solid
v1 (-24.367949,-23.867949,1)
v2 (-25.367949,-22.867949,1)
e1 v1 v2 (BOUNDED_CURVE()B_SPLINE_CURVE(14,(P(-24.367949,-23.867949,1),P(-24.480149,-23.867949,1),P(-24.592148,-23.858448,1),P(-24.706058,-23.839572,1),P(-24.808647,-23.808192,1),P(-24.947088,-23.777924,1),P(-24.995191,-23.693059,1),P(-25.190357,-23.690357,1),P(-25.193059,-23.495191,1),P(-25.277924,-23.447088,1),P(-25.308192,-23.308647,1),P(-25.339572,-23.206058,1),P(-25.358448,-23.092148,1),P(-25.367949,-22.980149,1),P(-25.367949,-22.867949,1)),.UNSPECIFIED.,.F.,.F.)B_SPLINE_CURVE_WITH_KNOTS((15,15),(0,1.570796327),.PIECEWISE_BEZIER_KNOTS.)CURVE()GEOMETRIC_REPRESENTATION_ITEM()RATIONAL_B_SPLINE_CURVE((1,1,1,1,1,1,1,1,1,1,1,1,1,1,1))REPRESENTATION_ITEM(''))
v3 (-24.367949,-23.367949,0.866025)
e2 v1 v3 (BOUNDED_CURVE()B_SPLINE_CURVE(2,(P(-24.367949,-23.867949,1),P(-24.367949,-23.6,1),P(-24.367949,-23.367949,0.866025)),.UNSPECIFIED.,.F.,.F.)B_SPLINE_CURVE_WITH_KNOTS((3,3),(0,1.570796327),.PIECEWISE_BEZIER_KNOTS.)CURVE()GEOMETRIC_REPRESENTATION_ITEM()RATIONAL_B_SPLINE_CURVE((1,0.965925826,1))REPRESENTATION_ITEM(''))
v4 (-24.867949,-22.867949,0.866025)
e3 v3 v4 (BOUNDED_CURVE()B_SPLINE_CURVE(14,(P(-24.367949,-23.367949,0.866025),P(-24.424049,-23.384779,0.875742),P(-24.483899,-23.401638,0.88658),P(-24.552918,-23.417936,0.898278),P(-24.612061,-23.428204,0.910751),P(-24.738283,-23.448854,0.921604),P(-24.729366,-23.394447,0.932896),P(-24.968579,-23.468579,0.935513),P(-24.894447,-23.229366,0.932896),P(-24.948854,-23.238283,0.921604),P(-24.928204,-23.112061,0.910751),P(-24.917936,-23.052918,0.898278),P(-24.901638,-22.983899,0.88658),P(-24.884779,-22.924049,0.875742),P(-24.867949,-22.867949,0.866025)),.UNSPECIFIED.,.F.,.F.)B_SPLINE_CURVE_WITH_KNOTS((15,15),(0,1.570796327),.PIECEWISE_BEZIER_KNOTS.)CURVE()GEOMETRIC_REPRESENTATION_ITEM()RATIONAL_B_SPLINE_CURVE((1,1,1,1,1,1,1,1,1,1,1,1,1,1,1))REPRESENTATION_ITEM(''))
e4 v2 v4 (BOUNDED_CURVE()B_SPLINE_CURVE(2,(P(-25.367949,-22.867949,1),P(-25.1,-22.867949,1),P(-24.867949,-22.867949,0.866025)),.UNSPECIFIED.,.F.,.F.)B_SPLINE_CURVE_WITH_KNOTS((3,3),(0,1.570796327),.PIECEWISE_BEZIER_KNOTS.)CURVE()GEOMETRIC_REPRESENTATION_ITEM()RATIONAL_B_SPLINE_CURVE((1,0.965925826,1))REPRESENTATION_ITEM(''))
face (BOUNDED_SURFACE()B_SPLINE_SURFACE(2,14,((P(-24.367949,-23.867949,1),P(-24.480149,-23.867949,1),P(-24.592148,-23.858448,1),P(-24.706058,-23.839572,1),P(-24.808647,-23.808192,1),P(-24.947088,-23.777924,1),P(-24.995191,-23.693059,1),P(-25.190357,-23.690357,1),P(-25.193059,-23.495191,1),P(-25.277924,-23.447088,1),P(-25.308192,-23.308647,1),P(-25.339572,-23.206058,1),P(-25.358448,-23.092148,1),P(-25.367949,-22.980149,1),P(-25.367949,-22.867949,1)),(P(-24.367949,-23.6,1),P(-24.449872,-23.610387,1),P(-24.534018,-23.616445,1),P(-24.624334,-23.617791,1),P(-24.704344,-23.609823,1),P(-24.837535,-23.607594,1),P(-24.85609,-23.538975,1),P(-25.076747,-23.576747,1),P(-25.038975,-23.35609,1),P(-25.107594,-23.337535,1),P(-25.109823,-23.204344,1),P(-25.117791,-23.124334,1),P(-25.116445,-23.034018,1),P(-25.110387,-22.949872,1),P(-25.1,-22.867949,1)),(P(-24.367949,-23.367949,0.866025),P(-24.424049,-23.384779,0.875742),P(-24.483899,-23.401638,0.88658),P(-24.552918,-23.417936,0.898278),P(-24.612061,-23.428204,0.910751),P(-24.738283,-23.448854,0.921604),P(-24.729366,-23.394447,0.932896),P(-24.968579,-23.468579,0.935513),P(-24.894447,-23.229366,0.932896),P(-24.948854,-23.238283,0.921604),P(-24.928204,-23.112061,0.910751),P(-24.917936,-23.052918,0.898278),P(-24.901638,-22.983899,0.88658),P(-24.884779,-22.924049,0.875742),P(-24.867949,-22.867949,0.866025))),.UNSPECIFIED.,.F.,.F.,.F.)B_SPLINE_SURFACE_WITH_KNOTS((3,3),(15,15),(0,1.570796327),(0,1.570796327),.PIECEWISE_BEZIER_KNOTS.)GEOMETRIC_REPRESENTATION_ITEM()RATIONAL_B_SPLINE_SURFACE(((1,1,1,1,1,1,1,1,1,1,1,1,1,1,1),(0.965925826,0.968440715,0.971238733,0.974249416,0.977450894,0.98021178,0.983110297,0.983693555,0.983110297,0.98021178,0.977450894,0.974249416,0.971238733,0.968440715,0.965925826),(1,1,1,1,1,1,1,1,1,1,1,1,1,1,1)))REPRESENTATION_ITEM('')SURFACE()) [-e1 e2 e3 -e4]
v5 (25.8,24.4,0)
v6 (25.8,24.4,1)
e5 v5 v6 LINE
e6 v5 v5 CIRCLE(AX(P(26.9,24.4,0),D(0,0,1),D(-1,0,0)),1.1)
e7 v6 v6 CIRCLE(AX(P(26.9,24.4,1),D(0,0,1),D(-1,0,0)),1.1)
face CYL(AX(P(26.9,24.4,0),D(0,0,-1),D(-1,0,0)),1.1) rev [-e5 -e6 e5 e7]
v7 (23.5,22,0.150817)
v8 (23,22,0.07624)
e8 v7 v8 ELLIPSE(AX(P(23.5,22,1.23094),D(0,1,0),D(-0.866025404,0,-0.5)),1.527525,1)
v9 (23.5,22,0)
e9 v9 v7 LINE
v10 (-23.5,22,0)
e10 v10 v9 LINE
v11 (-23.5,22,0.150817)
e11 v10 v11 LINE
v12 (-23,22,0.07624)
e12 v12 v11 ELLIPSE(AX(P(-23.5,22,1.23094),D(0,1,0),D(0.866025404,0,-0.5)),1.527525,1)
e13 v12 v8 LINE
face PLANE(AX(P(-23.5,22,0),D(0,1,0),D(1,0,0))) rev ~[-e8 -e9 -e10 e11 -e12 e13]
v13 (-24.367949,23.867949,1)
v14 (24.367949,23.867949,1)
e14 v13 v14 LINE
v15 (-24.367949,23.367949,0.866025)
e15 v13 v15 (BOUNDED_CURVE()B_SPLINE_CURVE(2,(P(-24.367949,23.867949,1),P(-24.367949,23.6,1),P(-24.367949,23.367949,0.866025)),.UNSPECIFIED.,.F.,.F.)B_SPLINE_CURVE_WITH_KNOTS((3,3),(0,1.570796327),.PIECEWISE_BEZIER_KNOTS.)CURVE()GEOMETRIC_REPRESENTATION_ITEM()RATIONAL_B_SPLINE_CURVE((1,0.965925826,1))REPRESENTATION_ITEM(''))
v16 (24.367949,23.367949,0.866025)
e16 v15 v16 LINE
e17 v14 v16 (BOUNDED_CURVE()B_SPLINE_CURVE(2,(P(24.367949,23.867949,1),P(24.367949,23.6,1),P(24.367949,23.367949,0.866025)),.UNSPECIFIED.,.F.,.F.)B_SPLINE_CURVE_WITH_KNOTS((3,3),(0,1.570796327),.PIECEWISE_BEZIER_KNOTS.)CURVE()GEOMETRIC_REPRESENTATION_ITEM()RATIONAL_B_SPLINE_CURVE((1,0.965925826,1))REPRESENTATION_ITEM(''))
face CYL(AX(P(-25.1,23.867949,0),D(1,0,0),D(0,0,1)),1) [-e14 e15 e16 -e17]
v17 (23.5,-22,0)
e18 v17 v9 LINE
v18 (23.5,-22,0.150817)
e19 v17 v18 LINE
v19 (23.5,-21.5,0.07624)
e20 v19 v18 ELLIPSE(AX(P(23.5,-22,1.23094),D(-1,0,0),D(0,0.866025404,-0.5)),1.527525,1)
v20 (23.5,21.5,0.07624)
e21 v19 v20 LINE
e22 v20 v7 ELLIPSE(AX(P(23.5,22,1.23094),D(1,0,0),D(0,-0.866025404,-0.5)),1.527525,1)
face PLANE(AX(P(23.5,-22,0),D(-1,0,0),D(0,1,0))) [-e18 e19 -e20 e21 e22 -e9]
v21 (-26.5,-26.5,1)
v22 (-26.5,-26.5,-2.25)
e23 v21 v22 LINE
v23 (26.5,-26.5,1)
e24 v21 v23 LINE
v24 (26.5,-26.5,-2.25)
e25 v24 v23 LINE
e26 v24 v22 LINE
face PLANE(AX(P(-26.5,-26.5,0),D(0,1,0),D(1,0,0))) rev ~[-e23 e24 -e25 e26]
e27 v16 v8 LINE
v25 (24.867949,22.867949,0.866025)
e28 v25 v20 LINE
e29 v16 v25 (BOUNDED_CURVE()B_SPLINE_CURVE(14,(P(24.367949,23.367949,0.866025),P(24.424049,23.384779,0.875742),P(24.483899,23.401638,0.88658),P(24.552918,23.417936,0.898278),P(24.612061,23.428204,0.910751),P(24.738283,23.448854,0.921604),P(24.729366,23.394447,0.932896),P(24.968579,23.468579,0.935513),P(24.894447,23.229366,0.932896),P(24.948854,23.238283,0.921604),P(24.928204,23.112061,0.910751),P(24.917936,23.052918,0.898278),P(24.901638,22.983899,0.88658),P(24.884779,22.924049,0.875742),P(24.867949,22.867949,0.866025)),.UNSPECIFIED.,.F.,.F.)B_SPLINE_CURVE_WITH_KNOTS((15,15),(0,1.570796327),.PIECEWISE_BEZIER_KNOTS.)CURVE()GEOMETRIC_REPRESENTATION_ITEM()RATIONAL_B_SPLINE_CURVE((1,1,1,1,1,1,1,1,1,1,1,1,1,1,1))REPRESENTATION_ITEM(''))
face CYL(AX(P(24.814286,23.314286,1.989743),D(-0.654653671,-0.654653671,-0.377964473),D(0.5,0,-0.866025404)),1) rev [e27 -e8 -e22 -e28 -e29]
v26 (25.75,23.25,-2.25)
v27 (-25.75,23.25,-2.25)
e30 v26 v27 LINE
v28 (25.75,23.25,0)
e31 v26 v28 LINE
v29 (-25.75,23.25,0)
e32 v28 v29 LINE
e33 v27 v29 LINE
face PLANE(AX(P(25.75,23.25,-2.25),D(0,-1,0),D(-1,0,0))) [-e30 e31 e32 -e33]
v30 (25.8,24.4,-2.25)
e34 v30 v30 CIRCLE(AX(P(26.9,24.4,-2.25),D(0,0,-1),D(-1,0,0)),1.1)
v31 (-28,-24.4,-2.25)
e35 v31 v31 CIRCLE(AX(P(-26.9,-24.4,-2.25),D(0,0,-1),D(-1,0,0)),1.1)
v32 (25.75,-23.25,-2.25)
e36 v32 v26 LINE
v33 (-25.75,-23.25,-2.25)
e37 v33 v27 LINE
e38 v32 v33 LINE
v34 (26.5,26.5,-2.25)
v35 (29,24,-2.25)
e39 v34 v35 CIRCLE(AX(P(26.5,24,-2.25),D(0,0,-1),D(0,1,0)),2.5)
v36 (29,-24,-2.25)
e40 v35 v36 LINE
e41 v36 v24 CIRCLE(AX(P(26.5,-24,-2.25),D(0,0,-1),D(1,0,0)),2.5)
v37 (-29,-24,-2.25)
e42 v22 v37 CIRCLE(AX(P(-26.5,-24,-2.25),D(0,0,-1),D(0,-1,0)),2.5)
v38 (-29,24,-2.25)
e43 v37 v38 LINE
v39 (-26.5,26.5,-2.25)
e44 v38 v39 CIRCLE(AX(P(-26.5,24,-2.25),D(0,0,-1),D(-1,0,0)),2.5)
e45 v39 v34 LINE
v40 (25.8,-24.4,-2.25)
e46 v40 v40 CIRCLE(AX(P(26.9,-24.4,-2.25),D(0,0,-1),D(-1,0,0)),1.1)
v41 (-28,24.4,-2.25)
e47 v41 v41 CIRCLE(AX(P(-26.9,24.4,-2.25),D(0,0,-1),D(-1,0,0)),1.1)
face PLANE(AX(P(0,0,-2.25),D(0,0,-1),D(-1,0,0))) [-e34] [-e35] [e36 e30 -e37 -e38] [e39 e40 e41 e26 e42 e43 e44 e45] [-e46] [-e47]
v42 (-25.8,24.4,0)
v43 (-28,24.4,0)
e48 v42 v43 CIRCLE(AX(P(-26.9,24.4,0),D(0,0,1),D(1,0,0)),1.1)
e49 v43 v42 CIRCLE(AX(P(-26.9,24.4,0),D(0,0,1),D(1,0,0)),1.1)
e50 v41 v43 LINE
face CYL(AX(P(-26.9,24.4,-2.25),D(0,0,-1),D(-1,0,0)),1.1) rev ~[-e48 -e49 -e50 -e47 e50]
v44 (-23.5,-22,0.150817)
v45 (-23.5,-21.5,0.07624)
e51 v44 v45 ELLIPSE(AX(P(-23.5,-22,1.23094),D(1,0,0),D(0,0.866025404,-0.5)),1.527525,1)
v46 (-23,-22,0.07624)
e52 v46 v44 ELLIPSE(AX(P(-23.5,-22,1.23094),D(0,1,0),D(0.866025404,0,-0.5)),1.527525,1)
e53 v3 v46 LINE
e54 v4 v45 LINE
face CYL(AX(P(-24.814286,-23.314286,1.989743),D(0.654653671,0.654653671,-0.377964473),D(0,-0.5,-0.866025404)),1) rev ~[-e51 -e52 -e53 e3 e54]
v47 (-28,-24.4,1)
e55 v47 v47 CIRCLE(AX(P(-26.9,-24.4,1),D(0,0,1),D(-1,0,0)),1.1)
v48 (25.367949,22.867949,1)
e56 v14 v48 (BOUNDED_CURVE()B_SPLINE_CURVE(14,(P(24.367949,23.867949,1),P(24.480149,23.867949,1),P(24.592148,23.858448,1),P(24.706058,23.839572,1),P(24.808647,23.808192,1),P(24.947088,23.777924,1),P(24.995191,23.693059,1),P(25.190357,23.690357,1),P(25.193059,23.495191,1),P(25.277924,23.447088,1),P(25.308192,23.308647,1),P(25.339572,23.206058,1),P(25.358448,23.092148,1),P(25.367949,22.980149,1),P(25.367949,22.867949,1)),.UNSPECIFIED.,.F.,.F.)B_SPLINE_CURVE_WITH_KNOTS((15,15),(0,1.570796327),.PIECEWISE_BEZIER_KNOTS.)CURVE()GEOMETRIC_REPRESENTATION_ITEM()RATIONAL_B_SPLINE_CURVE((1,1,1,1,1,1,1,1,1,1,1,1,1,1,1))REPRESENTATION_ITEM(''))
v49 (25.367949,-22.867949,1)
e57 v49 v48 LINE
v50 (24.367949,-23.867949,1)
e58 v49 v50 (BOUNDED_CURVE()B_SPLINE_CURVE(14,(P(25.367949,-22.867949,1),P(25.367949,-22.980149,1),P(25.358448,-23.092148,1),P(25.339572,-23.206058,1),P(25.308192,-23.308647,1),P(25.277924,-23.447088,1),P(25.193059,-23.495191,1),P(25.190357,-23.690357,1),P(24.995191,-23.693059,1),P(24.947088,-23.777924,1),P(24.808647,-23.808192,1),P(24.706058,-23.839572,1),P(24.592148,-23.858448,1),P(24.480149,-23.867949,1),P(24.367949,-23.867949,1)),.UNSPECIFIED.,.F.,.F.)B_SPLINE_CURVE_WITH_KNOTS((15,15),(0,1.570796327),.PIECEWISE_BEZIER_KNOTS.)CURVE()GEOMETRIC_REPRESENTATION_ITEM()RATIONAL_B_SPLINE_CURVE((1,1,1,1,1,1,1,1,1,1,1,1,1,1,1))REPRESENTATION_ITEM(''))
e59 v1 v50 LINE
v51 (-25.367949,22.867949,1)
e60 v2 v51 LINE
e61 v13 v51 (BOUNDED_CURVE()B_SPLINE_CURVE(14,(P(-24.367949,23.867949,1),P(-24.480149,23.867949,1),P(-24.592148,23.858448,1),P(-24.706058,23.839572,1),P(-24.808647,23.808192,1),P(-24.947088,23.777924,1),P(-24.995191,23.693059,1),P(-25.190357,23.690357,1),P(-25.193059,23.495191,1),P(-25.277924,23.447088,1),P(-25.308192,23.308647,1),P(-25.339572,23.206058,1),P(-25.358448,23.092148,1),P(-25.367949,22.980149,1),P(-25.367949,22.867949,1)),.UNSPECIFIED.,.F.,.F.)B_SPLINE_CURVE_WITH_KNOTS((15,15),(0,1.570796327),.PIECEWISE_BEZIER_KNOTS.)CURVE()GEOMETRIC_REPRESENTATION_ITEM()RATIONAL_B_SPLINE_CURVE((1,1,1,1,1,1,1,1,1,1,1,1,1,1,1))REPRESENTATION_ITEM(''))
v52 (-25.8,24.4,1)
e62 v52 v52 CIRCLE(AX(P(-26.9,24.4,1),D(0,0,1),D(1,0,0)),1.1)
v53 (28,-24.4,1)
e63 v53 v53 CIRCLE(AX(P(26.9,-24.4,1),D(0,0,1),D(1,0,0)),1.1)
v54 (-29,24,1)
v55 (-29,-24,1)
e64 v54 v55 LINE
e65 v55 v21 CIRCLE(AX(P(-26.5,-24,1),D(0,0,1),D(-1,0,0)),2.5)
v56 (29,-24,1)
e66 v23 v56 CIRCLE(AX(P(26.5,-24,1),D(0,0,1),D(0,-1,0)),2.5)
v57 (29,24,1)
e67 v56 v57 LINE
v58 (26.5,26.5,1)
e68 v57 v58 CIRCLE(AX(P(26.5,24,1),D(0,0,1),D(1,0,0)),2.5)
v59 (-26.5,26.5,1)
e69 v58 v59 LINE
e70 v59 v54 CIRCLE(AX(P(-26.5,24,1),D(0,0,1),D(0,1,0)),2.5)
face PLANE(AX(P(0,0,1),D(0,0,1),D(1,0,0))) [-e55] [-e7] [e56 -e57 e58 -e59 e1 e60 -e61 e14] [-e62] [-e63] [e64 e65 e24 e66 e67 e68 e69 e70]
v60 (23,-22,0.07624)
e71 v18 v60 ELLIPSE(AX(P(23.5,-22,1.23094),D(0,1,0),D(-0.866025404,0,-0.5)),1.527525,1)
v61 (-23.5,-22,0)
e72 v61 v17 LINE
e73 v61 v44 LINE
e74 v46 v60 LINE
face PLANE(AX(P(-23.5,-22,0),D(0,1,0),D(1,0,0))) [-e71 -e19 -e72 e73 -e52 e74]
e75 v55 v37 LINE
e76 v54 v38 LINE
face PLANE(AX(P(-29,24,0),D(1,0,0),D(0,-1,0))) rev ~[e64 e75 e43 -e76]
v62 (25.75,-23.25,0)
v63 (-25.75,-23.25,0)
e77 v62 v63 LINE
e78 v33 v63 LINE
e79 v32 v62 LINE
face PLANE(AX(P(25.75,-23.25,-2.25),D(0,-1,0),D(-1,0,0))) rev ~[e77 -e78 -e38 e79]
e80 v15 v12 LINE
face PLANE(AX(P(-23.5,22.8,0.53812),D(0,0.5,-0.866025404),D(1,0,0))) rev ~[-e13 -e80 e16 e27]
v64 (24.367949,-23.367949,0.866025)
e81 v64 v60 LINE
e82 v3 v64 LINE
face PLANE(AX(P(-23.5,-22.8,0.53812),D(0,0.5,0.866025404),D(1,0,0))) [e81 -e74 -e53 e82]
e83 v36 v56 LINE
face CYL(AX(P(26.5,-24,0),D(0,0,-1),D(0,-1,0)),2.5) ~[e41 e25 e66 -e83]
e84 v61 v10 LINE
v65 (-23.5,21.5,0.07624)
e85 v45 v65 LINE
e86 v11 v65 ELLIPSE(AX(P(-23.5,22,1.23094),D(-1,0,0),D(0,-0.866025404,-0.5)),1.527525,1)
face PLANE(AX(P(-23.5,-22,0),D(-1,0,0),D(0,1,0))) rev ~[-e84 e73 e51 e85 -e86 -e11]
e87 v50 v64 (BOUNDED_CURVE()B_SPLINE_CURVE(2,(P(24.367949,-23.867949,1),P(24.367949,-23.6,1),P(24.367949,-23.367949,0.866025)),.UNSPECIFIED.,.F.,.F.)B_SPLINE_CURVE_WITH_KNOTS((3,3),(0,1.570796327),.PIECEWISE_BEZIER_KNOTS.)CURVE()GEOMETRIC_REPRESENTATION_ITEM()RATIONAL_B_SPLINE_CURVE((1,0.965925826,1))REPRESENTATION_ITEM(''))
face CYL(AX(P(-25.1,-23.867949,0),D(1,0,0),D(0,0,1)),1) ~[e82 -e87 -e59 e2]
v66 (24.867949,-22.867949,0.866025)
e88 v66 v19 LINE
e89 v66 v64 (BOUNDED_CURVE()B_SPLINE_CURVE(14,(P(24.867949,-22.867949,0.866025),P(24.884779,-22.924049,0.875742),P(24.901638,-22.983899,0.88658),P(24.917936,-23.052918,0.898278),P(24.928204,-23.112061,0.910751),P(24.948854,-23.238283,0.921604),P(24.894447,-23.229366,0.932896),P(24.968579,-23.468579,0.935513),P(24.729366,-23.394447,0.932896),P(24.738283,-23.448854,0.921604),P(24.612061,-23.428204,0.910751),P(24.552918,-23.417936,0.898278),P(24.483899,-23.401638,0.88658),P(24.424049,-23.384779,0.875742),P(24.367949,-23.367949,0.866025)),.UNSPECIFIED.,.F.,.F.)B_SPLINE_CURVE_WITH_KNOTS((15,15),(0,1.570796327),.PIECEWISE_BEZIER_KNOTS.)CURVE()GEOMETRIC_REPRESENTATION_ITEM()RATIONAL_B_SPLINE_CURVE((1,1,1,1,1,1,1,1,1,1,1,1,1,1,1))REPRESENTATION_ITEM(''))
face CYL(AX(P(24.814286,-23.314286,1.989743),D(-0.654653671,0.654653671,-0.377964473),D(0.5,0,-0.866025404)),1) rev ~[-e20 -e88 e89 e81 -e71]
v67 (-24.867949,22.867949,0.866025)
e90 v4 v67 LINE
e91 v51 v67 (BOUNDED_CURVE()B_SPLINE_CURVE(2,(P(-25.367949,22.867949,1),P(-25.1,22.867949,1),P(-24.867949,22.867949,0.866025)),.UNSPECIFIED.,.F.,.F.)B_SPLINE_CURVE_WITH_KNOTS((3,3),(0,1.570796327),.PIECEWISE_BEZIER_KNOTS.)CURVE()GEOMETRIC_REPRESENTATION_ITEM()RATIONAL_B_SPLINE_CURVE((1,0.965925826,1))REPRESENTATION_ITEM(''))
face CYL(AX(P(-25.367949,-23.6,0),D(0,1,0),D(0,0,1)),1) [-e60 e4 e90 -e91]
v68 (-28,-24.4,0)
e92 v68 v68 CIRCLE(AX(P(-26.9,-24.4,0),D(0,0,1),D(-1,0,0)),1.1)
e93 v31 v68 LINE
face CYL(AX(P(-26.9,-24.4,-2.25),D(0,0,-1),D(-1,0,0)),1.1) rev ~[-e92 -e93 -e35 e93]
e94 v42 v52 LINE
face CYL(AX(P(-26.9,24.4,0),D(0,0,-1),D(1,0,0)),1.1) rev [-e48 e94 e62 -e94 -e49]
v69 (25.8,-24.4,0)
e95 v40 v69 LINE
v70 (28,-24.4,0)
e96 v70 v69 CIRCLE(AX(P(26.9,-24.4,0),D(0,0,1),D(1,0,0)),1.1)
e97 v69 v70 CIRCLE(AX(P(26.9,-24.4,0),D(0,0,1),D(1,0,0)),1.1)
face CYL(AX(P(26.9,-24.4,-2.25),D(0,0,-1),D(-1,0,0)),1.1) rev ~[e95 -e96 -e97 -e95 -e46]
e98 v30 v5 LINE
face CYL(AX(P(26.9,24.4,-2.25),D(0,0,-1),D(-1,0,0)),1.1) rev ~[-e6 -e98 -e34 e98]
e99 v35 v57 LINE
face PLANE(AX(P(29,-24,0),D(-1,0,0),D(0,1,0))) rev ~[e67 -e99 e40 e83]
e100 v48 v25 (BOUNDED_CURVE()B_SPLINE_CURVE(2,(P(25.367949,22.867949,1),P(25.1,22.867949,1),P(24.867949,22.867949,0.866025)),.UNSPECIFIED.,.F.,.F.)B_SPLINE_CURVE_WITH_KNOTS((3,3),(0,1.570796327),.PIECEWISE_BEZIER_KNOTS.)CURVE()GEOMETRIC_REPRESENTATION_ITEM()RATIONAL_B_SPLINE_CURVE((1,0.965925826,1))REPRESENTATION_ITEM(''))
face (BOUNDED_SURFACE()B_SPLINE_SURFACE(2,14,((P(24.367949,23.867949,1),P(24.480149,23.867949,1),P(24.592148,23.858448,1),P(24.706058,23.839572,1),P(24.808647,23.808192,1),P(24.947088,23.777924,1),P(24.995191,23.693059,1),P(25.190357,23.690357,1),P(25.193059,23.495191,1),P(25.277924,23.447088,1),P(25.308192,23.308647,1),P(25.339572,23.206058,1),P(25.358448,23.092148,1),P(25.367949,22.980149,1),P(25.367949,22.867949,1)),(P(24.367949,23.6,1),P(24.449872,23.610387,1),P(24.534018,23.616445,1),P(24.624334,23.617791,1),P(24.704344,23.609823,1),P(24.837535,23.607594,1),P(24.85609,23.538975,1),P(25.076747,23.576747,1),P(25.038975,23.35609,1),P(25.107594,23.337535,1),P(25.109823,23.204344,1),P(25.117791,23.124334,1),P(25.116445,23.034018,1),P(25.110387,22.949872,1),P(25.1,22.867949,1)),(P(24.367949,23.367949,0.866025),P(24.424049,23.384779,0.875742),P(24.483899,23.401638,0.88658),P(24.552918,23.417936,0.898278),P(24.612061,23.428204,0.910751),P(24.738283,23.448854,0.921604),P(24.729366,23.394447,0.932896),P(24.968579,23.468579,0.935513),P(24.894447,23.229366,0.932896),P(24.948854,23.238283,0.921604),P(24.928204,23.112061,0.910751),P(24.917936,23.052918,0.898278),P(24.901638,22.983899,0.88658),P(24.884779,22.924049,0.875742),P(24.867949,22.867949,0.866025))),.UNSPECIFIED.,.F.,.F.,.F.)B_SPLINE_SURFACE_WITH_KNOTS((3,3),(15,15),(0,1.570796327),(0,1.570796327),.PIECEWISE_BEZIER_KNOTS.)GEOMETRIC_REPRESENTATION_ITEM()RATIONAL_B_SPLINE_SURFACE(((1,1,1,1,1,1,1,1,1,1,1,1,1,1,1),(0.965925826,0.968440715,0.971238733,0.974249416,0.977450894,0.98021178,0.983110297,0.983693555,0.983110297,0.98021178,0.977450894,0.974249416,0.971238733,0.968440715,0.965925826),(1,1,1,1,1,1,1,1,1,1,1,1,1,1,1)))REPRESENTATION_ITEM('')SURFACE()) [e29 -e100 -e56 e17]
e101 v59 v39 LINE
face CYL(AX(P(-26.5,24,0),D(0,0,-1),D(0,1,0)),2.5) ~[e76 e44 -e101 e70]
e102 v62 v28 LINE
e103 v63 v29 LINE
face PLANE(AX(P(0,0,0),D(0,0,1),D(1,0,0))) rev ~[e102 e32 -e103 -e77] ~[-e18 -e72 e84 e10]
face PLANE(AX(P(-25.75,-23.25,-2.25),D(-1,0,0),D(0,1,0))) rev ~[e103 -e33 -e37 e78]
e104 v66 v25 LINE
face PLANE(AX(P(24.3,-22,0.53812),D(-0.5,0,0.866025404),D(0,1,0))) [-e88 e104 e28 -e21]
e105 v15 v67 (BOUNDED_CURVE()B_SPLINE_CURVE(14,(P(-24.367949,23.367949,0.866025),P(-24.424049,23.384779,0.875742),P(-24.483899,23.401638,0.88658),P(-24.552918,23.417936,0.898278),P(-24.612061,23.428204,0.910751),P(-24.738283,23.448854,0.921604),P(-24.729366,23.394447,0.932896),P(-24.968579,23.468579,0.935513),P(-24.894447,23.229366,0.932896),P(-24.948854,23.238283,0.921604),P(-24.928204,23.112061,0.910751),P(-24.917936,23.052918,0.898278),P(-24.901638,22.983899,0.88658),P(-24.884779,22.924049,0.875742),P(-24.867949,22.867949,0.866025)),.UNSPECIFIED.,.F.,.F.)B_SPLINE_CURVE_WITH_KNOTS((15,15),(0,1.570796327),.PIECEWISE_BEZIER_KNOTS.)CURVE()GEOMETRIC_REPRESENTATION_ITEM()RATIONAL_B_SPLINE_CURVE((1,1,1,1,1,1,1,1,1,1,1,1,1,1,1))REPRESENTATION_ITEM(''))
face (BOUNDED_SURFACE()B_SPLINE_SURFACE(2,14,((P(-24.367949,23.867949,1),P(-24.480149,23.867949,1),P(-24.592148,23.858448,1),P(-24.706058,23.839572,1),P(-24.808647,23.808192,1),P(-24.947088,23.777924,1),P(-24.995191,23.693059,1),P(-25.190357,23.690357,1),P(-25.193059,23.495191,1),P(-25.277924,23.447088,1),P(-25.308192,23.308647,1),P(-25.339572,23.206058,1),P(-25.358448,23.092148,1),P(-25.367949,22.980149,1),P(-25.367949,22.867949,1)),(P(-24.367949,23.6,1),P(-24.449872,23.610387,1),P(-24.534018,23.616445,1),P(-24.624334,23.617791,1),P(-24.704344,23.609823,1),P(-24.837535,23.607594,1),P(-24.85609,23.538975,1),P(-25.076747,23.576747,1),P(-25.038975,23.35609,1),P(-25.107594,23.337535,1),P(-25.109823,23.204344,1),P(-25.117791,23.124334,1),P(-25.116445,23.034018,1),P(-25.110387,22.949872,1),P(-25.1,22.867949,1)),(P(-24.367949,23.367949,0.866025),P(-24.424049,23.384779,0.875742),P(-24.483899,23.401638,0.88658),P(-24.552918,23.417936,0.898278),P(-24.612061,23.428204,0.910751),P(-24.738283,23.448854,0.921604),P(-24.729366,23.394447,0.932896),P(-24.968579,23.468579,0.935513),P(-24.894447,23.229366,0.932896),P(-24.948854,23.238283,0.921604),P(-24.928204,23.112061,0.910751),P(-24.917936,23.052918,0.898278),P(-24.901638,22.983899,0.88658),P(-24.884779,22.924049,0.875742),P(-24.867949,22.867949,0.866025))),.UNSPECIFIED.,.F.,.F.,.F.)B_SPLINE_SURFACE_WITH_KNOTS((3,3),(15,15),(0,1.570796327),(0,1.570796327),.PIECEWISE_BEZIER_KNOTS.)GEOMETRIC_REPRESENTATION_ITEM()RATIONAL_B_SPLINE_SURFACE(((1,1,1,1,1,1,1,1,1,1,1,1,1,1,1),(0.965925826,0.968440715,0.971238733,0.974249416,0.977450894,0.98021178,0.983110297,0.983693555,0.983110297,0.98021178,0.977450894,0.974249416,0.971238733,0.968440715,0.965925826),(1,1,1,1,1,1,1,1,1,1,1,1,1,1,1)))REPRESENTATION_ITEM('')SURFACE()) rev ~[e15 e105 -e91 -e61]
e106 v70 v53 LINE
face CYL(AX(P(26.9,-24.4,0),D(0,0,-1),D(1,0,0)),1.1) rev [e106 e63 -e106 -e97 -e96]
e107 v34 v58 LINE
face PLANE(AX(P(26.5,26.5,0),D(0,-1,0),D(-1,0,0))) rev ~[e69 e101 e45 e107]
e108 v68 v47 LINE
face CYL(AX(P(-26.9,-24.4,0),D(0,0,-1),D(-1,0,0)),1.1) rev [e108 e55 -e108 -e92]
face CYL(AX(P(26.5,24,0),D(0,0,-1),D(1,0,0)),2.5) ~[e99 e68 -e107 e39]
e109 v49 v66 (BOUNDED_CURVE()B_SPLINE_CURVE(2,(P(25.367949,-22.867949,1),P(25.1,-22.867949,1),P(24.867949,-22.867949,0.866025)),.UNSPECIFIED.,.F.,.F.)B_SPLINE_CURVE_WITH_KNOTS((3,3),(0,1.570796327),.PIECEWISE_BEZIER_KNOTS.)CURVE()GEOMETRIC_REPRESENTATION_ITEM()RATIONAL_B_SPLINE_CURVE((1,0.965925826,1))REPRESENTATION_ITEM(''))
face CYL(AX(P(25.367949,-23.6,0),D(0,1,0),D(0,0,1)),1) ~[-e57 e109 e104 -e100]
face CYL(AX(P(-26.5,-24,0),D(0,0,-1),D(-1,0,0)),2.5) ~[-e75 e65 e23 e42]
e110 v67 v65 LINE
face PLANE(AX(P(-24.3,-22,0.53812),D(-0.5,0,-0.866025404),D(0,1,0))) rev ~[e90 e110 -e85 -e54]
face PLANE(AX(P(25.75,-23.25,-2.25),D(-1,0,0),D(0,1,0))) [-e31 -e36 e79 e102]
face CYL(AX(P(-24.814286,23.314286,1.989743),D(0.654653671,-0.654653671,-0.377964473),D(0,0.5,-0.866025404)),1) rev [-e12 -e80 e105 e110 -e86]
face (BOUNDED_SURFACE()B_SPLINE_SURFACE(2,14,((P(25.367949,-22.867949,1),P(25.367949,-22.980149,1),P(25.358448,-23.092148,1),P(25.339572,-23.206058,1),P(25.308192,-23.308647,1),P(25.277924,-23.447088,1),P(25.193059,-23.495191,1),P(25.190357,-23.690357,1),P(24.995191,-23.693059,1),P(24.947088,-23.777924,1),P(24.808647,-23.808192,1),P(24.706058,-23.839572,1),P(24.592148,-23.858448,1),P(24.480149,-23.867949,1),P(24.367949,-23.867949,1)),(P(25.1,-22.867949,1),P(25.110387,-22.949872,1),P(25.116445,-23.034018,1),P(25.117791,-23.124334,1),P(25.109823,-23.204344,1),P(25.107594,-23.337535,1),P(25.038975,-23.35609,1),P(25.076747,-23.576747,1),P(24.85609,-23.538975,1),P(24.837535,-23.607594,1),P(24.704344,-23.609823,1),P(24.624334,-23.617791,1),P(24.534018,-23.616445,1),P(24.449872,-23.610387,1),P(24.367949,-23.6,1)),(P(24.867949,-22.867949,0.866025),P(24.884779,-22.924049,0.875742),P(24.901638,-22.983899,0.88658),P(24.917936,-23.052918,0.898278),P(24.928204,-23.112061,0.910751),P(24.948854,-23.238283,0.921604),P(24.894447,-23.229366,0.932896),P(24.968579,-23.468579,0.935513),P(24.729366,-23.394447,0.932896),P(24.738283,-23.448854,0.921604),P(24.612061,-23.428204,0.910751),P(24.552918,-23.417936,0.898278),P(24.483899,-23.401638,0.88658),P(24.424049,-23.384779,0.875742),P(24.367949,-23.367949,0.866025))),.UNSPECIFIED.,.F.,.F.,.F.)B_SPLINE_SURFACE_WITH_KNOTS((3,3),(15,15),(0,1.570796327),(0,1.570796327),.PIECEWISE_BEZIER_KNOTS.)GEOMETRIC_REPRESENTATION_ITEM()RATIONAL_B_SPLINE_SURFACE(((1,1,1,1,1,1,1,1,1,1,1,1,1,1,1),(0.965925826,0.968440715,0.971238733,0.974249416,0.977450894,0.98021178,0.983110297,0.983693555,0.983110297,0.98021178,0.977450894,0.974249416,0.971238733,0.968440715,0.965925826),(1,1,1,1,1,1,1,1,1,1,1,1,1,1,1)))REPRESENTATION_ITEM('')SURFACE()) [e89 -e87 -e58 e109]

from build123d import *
from build123d.topology import SkipClean

# Parameters (mm, degrees)
SKETCH_1_R      = 1.1
SKETCH_1_W      = 47
SKETCH_1_H      = 44
EXTRUDE_1_DEPTH = 1
EXTRUDE_START   = 2.25
SKETCH_2_R      = 1.1
SKETCH_2_W      = 51.5
SKETCH_2_H      = 46.5
EXTRUDE_2_DEPTH = 2.25
CHAMFER_1_SIZE  = 1.6
CHAMFER_1_SIZE2 = 0.923760431
FILLET_1_R      = 1


with BuildPart() as part:
    # 草图1 → 凸台-拉伸1 (new body)
    with BuildSketch(Plane.XY):
        with BuildLine():
            Line((-26.5, -26.5), (26.5, -26.5))
            ThreePointArc((26.5, -26.5), (28.267766953, -25.767766953), (29, -24))
            Line((29, -24), (29, 24))
            ThreePointArc((29, 24), (28.267766953, 25.767766953), (26.5, 26.5))
            Line((26.5, 26.5), (-26.5, 26.5))
            ThreePointArc((-26.5, 26.5), (-28.267766953, 25.767766953), (-29, 24))
            Line((-29, 24), (-29, -24))
            ThreePointArc((-29, -24), (-28.267766953, -25.767766953), (-26.5, -26.5))
        make_face()
        with Locations((-26.9, 24.4)):
            Circle(SKETCH_1_R, mode=Mode.SUBTRACT)
        with Locations(Location((26.9, 24.4, 0), (0, 0, 180))):
            Circle(SKETCH_1_R, mode=Mode.SUBTRACT)
        with Locations(Location((-26.9, -24.4, 0), (0, 0, 180))):
            Circle(SKETCH_1_R, mode=Mode.SUBTRACT)
        with Locations((26.9, -24.4)):
            Circle(SKETCH_1_R, mode=Mode.SUBTRACT)
        Rectangle(SKETCH_1_W, SKETCH_1_H, mode=Mode.SUBTRACT)
    extrude(amount=EXTRUDE_1_DEPTH)

    # 草图2 → 凸台-拉伸2 (add)
    with SkipClean():  # the faces are left unmerged after this step: merging them gives an invalid solid
        with BuildSketch(Plane(origin=(0, 0, 0), x_dir=(-1, 0, 0), z_dir=(0, 0, -1)).offset(EXTRUDE_START)):
            with BuildLine():
                Line((26.5, 26.5), (-26.5, 26.5))
                ThreePointArc((-26.5, 26.5), (-28.267766953, 25.767766953), (-29, 24))
                Line((-29, 24), (-29, -24))
                ThreePointArc((-29, -24), (-28.267766953, -25.767766953), (-26.5, -26.5))
                Line((-26.5, -26.5), (26.5, -26.5))
                ThreePointArc((26.5, -26.5), (28.267766953, -25.767766953), (29, -24))
                Line((29, -24), (29, 24))
                ThreePointArc((29, 24), (28.267766953, 25.767766953), (26.5, 26.5))
            make_face()
            with Locations((26.9, -24.4)):
                Circle(SKETCH_2_R, mode=Mode.SUBTRACT)
            with Locations((-26.9, -24.4)):
                Circle(SKETCH_2_R, mode=Mode.SUBTRACT)
            with Locations((-26.9, 24.4)):
                Circle(SKETCH_2_R, mode=Mode.SUBTRACT)
            with Locations((26.9, 24.4)):
                Circle(SKETCH_2_R, mode=Mode.SUBTRACT)
            Rectangle(SKETCH_2_W, SKETCH_2_H, mode=Mode.SUBTRACT)
        extrude(amount=-EXTRUDE_2_DEPTH)

    # 倒角1
    chamfer_1_edges = [part.edges().sort_by_distance(p)[0] for p in [
        (-23.5, 0, 1),
        (0, -22, 1),
        (23.5, 0, 1),
        (0, 22, 1),
    ]]
    chamfer_1_side = [part.faces().sort_by_distance(p)[0] for p in [
        (0, -25.714315585, 1),
    ]]
    chamfer(chamfer_1_edges, length=CHAMFER_1_SIZE, length2=CHAMFER_1_SIZE2, reference=chamfer_1_side[0])

    # 圆角1
    fillet_1_edges = [part.edges().sort_by_distance(p)[0] for p in [
        (0, 23.6, 1),
        (25.1, 0, 1),
        (0, -23.6, 1),
        (-25.1, 0, 1),
        (24.3, 22.8, 0.538119785),
        (24.3, -22.8, 0.538119785),
        (-24.3, 22.8, 0.538119785),
        (-24.3, -22.8, 0.538119785),
    ]]
    fillet(fillet_1_edges, radius=FILLET_1_R)


solid = part.part
